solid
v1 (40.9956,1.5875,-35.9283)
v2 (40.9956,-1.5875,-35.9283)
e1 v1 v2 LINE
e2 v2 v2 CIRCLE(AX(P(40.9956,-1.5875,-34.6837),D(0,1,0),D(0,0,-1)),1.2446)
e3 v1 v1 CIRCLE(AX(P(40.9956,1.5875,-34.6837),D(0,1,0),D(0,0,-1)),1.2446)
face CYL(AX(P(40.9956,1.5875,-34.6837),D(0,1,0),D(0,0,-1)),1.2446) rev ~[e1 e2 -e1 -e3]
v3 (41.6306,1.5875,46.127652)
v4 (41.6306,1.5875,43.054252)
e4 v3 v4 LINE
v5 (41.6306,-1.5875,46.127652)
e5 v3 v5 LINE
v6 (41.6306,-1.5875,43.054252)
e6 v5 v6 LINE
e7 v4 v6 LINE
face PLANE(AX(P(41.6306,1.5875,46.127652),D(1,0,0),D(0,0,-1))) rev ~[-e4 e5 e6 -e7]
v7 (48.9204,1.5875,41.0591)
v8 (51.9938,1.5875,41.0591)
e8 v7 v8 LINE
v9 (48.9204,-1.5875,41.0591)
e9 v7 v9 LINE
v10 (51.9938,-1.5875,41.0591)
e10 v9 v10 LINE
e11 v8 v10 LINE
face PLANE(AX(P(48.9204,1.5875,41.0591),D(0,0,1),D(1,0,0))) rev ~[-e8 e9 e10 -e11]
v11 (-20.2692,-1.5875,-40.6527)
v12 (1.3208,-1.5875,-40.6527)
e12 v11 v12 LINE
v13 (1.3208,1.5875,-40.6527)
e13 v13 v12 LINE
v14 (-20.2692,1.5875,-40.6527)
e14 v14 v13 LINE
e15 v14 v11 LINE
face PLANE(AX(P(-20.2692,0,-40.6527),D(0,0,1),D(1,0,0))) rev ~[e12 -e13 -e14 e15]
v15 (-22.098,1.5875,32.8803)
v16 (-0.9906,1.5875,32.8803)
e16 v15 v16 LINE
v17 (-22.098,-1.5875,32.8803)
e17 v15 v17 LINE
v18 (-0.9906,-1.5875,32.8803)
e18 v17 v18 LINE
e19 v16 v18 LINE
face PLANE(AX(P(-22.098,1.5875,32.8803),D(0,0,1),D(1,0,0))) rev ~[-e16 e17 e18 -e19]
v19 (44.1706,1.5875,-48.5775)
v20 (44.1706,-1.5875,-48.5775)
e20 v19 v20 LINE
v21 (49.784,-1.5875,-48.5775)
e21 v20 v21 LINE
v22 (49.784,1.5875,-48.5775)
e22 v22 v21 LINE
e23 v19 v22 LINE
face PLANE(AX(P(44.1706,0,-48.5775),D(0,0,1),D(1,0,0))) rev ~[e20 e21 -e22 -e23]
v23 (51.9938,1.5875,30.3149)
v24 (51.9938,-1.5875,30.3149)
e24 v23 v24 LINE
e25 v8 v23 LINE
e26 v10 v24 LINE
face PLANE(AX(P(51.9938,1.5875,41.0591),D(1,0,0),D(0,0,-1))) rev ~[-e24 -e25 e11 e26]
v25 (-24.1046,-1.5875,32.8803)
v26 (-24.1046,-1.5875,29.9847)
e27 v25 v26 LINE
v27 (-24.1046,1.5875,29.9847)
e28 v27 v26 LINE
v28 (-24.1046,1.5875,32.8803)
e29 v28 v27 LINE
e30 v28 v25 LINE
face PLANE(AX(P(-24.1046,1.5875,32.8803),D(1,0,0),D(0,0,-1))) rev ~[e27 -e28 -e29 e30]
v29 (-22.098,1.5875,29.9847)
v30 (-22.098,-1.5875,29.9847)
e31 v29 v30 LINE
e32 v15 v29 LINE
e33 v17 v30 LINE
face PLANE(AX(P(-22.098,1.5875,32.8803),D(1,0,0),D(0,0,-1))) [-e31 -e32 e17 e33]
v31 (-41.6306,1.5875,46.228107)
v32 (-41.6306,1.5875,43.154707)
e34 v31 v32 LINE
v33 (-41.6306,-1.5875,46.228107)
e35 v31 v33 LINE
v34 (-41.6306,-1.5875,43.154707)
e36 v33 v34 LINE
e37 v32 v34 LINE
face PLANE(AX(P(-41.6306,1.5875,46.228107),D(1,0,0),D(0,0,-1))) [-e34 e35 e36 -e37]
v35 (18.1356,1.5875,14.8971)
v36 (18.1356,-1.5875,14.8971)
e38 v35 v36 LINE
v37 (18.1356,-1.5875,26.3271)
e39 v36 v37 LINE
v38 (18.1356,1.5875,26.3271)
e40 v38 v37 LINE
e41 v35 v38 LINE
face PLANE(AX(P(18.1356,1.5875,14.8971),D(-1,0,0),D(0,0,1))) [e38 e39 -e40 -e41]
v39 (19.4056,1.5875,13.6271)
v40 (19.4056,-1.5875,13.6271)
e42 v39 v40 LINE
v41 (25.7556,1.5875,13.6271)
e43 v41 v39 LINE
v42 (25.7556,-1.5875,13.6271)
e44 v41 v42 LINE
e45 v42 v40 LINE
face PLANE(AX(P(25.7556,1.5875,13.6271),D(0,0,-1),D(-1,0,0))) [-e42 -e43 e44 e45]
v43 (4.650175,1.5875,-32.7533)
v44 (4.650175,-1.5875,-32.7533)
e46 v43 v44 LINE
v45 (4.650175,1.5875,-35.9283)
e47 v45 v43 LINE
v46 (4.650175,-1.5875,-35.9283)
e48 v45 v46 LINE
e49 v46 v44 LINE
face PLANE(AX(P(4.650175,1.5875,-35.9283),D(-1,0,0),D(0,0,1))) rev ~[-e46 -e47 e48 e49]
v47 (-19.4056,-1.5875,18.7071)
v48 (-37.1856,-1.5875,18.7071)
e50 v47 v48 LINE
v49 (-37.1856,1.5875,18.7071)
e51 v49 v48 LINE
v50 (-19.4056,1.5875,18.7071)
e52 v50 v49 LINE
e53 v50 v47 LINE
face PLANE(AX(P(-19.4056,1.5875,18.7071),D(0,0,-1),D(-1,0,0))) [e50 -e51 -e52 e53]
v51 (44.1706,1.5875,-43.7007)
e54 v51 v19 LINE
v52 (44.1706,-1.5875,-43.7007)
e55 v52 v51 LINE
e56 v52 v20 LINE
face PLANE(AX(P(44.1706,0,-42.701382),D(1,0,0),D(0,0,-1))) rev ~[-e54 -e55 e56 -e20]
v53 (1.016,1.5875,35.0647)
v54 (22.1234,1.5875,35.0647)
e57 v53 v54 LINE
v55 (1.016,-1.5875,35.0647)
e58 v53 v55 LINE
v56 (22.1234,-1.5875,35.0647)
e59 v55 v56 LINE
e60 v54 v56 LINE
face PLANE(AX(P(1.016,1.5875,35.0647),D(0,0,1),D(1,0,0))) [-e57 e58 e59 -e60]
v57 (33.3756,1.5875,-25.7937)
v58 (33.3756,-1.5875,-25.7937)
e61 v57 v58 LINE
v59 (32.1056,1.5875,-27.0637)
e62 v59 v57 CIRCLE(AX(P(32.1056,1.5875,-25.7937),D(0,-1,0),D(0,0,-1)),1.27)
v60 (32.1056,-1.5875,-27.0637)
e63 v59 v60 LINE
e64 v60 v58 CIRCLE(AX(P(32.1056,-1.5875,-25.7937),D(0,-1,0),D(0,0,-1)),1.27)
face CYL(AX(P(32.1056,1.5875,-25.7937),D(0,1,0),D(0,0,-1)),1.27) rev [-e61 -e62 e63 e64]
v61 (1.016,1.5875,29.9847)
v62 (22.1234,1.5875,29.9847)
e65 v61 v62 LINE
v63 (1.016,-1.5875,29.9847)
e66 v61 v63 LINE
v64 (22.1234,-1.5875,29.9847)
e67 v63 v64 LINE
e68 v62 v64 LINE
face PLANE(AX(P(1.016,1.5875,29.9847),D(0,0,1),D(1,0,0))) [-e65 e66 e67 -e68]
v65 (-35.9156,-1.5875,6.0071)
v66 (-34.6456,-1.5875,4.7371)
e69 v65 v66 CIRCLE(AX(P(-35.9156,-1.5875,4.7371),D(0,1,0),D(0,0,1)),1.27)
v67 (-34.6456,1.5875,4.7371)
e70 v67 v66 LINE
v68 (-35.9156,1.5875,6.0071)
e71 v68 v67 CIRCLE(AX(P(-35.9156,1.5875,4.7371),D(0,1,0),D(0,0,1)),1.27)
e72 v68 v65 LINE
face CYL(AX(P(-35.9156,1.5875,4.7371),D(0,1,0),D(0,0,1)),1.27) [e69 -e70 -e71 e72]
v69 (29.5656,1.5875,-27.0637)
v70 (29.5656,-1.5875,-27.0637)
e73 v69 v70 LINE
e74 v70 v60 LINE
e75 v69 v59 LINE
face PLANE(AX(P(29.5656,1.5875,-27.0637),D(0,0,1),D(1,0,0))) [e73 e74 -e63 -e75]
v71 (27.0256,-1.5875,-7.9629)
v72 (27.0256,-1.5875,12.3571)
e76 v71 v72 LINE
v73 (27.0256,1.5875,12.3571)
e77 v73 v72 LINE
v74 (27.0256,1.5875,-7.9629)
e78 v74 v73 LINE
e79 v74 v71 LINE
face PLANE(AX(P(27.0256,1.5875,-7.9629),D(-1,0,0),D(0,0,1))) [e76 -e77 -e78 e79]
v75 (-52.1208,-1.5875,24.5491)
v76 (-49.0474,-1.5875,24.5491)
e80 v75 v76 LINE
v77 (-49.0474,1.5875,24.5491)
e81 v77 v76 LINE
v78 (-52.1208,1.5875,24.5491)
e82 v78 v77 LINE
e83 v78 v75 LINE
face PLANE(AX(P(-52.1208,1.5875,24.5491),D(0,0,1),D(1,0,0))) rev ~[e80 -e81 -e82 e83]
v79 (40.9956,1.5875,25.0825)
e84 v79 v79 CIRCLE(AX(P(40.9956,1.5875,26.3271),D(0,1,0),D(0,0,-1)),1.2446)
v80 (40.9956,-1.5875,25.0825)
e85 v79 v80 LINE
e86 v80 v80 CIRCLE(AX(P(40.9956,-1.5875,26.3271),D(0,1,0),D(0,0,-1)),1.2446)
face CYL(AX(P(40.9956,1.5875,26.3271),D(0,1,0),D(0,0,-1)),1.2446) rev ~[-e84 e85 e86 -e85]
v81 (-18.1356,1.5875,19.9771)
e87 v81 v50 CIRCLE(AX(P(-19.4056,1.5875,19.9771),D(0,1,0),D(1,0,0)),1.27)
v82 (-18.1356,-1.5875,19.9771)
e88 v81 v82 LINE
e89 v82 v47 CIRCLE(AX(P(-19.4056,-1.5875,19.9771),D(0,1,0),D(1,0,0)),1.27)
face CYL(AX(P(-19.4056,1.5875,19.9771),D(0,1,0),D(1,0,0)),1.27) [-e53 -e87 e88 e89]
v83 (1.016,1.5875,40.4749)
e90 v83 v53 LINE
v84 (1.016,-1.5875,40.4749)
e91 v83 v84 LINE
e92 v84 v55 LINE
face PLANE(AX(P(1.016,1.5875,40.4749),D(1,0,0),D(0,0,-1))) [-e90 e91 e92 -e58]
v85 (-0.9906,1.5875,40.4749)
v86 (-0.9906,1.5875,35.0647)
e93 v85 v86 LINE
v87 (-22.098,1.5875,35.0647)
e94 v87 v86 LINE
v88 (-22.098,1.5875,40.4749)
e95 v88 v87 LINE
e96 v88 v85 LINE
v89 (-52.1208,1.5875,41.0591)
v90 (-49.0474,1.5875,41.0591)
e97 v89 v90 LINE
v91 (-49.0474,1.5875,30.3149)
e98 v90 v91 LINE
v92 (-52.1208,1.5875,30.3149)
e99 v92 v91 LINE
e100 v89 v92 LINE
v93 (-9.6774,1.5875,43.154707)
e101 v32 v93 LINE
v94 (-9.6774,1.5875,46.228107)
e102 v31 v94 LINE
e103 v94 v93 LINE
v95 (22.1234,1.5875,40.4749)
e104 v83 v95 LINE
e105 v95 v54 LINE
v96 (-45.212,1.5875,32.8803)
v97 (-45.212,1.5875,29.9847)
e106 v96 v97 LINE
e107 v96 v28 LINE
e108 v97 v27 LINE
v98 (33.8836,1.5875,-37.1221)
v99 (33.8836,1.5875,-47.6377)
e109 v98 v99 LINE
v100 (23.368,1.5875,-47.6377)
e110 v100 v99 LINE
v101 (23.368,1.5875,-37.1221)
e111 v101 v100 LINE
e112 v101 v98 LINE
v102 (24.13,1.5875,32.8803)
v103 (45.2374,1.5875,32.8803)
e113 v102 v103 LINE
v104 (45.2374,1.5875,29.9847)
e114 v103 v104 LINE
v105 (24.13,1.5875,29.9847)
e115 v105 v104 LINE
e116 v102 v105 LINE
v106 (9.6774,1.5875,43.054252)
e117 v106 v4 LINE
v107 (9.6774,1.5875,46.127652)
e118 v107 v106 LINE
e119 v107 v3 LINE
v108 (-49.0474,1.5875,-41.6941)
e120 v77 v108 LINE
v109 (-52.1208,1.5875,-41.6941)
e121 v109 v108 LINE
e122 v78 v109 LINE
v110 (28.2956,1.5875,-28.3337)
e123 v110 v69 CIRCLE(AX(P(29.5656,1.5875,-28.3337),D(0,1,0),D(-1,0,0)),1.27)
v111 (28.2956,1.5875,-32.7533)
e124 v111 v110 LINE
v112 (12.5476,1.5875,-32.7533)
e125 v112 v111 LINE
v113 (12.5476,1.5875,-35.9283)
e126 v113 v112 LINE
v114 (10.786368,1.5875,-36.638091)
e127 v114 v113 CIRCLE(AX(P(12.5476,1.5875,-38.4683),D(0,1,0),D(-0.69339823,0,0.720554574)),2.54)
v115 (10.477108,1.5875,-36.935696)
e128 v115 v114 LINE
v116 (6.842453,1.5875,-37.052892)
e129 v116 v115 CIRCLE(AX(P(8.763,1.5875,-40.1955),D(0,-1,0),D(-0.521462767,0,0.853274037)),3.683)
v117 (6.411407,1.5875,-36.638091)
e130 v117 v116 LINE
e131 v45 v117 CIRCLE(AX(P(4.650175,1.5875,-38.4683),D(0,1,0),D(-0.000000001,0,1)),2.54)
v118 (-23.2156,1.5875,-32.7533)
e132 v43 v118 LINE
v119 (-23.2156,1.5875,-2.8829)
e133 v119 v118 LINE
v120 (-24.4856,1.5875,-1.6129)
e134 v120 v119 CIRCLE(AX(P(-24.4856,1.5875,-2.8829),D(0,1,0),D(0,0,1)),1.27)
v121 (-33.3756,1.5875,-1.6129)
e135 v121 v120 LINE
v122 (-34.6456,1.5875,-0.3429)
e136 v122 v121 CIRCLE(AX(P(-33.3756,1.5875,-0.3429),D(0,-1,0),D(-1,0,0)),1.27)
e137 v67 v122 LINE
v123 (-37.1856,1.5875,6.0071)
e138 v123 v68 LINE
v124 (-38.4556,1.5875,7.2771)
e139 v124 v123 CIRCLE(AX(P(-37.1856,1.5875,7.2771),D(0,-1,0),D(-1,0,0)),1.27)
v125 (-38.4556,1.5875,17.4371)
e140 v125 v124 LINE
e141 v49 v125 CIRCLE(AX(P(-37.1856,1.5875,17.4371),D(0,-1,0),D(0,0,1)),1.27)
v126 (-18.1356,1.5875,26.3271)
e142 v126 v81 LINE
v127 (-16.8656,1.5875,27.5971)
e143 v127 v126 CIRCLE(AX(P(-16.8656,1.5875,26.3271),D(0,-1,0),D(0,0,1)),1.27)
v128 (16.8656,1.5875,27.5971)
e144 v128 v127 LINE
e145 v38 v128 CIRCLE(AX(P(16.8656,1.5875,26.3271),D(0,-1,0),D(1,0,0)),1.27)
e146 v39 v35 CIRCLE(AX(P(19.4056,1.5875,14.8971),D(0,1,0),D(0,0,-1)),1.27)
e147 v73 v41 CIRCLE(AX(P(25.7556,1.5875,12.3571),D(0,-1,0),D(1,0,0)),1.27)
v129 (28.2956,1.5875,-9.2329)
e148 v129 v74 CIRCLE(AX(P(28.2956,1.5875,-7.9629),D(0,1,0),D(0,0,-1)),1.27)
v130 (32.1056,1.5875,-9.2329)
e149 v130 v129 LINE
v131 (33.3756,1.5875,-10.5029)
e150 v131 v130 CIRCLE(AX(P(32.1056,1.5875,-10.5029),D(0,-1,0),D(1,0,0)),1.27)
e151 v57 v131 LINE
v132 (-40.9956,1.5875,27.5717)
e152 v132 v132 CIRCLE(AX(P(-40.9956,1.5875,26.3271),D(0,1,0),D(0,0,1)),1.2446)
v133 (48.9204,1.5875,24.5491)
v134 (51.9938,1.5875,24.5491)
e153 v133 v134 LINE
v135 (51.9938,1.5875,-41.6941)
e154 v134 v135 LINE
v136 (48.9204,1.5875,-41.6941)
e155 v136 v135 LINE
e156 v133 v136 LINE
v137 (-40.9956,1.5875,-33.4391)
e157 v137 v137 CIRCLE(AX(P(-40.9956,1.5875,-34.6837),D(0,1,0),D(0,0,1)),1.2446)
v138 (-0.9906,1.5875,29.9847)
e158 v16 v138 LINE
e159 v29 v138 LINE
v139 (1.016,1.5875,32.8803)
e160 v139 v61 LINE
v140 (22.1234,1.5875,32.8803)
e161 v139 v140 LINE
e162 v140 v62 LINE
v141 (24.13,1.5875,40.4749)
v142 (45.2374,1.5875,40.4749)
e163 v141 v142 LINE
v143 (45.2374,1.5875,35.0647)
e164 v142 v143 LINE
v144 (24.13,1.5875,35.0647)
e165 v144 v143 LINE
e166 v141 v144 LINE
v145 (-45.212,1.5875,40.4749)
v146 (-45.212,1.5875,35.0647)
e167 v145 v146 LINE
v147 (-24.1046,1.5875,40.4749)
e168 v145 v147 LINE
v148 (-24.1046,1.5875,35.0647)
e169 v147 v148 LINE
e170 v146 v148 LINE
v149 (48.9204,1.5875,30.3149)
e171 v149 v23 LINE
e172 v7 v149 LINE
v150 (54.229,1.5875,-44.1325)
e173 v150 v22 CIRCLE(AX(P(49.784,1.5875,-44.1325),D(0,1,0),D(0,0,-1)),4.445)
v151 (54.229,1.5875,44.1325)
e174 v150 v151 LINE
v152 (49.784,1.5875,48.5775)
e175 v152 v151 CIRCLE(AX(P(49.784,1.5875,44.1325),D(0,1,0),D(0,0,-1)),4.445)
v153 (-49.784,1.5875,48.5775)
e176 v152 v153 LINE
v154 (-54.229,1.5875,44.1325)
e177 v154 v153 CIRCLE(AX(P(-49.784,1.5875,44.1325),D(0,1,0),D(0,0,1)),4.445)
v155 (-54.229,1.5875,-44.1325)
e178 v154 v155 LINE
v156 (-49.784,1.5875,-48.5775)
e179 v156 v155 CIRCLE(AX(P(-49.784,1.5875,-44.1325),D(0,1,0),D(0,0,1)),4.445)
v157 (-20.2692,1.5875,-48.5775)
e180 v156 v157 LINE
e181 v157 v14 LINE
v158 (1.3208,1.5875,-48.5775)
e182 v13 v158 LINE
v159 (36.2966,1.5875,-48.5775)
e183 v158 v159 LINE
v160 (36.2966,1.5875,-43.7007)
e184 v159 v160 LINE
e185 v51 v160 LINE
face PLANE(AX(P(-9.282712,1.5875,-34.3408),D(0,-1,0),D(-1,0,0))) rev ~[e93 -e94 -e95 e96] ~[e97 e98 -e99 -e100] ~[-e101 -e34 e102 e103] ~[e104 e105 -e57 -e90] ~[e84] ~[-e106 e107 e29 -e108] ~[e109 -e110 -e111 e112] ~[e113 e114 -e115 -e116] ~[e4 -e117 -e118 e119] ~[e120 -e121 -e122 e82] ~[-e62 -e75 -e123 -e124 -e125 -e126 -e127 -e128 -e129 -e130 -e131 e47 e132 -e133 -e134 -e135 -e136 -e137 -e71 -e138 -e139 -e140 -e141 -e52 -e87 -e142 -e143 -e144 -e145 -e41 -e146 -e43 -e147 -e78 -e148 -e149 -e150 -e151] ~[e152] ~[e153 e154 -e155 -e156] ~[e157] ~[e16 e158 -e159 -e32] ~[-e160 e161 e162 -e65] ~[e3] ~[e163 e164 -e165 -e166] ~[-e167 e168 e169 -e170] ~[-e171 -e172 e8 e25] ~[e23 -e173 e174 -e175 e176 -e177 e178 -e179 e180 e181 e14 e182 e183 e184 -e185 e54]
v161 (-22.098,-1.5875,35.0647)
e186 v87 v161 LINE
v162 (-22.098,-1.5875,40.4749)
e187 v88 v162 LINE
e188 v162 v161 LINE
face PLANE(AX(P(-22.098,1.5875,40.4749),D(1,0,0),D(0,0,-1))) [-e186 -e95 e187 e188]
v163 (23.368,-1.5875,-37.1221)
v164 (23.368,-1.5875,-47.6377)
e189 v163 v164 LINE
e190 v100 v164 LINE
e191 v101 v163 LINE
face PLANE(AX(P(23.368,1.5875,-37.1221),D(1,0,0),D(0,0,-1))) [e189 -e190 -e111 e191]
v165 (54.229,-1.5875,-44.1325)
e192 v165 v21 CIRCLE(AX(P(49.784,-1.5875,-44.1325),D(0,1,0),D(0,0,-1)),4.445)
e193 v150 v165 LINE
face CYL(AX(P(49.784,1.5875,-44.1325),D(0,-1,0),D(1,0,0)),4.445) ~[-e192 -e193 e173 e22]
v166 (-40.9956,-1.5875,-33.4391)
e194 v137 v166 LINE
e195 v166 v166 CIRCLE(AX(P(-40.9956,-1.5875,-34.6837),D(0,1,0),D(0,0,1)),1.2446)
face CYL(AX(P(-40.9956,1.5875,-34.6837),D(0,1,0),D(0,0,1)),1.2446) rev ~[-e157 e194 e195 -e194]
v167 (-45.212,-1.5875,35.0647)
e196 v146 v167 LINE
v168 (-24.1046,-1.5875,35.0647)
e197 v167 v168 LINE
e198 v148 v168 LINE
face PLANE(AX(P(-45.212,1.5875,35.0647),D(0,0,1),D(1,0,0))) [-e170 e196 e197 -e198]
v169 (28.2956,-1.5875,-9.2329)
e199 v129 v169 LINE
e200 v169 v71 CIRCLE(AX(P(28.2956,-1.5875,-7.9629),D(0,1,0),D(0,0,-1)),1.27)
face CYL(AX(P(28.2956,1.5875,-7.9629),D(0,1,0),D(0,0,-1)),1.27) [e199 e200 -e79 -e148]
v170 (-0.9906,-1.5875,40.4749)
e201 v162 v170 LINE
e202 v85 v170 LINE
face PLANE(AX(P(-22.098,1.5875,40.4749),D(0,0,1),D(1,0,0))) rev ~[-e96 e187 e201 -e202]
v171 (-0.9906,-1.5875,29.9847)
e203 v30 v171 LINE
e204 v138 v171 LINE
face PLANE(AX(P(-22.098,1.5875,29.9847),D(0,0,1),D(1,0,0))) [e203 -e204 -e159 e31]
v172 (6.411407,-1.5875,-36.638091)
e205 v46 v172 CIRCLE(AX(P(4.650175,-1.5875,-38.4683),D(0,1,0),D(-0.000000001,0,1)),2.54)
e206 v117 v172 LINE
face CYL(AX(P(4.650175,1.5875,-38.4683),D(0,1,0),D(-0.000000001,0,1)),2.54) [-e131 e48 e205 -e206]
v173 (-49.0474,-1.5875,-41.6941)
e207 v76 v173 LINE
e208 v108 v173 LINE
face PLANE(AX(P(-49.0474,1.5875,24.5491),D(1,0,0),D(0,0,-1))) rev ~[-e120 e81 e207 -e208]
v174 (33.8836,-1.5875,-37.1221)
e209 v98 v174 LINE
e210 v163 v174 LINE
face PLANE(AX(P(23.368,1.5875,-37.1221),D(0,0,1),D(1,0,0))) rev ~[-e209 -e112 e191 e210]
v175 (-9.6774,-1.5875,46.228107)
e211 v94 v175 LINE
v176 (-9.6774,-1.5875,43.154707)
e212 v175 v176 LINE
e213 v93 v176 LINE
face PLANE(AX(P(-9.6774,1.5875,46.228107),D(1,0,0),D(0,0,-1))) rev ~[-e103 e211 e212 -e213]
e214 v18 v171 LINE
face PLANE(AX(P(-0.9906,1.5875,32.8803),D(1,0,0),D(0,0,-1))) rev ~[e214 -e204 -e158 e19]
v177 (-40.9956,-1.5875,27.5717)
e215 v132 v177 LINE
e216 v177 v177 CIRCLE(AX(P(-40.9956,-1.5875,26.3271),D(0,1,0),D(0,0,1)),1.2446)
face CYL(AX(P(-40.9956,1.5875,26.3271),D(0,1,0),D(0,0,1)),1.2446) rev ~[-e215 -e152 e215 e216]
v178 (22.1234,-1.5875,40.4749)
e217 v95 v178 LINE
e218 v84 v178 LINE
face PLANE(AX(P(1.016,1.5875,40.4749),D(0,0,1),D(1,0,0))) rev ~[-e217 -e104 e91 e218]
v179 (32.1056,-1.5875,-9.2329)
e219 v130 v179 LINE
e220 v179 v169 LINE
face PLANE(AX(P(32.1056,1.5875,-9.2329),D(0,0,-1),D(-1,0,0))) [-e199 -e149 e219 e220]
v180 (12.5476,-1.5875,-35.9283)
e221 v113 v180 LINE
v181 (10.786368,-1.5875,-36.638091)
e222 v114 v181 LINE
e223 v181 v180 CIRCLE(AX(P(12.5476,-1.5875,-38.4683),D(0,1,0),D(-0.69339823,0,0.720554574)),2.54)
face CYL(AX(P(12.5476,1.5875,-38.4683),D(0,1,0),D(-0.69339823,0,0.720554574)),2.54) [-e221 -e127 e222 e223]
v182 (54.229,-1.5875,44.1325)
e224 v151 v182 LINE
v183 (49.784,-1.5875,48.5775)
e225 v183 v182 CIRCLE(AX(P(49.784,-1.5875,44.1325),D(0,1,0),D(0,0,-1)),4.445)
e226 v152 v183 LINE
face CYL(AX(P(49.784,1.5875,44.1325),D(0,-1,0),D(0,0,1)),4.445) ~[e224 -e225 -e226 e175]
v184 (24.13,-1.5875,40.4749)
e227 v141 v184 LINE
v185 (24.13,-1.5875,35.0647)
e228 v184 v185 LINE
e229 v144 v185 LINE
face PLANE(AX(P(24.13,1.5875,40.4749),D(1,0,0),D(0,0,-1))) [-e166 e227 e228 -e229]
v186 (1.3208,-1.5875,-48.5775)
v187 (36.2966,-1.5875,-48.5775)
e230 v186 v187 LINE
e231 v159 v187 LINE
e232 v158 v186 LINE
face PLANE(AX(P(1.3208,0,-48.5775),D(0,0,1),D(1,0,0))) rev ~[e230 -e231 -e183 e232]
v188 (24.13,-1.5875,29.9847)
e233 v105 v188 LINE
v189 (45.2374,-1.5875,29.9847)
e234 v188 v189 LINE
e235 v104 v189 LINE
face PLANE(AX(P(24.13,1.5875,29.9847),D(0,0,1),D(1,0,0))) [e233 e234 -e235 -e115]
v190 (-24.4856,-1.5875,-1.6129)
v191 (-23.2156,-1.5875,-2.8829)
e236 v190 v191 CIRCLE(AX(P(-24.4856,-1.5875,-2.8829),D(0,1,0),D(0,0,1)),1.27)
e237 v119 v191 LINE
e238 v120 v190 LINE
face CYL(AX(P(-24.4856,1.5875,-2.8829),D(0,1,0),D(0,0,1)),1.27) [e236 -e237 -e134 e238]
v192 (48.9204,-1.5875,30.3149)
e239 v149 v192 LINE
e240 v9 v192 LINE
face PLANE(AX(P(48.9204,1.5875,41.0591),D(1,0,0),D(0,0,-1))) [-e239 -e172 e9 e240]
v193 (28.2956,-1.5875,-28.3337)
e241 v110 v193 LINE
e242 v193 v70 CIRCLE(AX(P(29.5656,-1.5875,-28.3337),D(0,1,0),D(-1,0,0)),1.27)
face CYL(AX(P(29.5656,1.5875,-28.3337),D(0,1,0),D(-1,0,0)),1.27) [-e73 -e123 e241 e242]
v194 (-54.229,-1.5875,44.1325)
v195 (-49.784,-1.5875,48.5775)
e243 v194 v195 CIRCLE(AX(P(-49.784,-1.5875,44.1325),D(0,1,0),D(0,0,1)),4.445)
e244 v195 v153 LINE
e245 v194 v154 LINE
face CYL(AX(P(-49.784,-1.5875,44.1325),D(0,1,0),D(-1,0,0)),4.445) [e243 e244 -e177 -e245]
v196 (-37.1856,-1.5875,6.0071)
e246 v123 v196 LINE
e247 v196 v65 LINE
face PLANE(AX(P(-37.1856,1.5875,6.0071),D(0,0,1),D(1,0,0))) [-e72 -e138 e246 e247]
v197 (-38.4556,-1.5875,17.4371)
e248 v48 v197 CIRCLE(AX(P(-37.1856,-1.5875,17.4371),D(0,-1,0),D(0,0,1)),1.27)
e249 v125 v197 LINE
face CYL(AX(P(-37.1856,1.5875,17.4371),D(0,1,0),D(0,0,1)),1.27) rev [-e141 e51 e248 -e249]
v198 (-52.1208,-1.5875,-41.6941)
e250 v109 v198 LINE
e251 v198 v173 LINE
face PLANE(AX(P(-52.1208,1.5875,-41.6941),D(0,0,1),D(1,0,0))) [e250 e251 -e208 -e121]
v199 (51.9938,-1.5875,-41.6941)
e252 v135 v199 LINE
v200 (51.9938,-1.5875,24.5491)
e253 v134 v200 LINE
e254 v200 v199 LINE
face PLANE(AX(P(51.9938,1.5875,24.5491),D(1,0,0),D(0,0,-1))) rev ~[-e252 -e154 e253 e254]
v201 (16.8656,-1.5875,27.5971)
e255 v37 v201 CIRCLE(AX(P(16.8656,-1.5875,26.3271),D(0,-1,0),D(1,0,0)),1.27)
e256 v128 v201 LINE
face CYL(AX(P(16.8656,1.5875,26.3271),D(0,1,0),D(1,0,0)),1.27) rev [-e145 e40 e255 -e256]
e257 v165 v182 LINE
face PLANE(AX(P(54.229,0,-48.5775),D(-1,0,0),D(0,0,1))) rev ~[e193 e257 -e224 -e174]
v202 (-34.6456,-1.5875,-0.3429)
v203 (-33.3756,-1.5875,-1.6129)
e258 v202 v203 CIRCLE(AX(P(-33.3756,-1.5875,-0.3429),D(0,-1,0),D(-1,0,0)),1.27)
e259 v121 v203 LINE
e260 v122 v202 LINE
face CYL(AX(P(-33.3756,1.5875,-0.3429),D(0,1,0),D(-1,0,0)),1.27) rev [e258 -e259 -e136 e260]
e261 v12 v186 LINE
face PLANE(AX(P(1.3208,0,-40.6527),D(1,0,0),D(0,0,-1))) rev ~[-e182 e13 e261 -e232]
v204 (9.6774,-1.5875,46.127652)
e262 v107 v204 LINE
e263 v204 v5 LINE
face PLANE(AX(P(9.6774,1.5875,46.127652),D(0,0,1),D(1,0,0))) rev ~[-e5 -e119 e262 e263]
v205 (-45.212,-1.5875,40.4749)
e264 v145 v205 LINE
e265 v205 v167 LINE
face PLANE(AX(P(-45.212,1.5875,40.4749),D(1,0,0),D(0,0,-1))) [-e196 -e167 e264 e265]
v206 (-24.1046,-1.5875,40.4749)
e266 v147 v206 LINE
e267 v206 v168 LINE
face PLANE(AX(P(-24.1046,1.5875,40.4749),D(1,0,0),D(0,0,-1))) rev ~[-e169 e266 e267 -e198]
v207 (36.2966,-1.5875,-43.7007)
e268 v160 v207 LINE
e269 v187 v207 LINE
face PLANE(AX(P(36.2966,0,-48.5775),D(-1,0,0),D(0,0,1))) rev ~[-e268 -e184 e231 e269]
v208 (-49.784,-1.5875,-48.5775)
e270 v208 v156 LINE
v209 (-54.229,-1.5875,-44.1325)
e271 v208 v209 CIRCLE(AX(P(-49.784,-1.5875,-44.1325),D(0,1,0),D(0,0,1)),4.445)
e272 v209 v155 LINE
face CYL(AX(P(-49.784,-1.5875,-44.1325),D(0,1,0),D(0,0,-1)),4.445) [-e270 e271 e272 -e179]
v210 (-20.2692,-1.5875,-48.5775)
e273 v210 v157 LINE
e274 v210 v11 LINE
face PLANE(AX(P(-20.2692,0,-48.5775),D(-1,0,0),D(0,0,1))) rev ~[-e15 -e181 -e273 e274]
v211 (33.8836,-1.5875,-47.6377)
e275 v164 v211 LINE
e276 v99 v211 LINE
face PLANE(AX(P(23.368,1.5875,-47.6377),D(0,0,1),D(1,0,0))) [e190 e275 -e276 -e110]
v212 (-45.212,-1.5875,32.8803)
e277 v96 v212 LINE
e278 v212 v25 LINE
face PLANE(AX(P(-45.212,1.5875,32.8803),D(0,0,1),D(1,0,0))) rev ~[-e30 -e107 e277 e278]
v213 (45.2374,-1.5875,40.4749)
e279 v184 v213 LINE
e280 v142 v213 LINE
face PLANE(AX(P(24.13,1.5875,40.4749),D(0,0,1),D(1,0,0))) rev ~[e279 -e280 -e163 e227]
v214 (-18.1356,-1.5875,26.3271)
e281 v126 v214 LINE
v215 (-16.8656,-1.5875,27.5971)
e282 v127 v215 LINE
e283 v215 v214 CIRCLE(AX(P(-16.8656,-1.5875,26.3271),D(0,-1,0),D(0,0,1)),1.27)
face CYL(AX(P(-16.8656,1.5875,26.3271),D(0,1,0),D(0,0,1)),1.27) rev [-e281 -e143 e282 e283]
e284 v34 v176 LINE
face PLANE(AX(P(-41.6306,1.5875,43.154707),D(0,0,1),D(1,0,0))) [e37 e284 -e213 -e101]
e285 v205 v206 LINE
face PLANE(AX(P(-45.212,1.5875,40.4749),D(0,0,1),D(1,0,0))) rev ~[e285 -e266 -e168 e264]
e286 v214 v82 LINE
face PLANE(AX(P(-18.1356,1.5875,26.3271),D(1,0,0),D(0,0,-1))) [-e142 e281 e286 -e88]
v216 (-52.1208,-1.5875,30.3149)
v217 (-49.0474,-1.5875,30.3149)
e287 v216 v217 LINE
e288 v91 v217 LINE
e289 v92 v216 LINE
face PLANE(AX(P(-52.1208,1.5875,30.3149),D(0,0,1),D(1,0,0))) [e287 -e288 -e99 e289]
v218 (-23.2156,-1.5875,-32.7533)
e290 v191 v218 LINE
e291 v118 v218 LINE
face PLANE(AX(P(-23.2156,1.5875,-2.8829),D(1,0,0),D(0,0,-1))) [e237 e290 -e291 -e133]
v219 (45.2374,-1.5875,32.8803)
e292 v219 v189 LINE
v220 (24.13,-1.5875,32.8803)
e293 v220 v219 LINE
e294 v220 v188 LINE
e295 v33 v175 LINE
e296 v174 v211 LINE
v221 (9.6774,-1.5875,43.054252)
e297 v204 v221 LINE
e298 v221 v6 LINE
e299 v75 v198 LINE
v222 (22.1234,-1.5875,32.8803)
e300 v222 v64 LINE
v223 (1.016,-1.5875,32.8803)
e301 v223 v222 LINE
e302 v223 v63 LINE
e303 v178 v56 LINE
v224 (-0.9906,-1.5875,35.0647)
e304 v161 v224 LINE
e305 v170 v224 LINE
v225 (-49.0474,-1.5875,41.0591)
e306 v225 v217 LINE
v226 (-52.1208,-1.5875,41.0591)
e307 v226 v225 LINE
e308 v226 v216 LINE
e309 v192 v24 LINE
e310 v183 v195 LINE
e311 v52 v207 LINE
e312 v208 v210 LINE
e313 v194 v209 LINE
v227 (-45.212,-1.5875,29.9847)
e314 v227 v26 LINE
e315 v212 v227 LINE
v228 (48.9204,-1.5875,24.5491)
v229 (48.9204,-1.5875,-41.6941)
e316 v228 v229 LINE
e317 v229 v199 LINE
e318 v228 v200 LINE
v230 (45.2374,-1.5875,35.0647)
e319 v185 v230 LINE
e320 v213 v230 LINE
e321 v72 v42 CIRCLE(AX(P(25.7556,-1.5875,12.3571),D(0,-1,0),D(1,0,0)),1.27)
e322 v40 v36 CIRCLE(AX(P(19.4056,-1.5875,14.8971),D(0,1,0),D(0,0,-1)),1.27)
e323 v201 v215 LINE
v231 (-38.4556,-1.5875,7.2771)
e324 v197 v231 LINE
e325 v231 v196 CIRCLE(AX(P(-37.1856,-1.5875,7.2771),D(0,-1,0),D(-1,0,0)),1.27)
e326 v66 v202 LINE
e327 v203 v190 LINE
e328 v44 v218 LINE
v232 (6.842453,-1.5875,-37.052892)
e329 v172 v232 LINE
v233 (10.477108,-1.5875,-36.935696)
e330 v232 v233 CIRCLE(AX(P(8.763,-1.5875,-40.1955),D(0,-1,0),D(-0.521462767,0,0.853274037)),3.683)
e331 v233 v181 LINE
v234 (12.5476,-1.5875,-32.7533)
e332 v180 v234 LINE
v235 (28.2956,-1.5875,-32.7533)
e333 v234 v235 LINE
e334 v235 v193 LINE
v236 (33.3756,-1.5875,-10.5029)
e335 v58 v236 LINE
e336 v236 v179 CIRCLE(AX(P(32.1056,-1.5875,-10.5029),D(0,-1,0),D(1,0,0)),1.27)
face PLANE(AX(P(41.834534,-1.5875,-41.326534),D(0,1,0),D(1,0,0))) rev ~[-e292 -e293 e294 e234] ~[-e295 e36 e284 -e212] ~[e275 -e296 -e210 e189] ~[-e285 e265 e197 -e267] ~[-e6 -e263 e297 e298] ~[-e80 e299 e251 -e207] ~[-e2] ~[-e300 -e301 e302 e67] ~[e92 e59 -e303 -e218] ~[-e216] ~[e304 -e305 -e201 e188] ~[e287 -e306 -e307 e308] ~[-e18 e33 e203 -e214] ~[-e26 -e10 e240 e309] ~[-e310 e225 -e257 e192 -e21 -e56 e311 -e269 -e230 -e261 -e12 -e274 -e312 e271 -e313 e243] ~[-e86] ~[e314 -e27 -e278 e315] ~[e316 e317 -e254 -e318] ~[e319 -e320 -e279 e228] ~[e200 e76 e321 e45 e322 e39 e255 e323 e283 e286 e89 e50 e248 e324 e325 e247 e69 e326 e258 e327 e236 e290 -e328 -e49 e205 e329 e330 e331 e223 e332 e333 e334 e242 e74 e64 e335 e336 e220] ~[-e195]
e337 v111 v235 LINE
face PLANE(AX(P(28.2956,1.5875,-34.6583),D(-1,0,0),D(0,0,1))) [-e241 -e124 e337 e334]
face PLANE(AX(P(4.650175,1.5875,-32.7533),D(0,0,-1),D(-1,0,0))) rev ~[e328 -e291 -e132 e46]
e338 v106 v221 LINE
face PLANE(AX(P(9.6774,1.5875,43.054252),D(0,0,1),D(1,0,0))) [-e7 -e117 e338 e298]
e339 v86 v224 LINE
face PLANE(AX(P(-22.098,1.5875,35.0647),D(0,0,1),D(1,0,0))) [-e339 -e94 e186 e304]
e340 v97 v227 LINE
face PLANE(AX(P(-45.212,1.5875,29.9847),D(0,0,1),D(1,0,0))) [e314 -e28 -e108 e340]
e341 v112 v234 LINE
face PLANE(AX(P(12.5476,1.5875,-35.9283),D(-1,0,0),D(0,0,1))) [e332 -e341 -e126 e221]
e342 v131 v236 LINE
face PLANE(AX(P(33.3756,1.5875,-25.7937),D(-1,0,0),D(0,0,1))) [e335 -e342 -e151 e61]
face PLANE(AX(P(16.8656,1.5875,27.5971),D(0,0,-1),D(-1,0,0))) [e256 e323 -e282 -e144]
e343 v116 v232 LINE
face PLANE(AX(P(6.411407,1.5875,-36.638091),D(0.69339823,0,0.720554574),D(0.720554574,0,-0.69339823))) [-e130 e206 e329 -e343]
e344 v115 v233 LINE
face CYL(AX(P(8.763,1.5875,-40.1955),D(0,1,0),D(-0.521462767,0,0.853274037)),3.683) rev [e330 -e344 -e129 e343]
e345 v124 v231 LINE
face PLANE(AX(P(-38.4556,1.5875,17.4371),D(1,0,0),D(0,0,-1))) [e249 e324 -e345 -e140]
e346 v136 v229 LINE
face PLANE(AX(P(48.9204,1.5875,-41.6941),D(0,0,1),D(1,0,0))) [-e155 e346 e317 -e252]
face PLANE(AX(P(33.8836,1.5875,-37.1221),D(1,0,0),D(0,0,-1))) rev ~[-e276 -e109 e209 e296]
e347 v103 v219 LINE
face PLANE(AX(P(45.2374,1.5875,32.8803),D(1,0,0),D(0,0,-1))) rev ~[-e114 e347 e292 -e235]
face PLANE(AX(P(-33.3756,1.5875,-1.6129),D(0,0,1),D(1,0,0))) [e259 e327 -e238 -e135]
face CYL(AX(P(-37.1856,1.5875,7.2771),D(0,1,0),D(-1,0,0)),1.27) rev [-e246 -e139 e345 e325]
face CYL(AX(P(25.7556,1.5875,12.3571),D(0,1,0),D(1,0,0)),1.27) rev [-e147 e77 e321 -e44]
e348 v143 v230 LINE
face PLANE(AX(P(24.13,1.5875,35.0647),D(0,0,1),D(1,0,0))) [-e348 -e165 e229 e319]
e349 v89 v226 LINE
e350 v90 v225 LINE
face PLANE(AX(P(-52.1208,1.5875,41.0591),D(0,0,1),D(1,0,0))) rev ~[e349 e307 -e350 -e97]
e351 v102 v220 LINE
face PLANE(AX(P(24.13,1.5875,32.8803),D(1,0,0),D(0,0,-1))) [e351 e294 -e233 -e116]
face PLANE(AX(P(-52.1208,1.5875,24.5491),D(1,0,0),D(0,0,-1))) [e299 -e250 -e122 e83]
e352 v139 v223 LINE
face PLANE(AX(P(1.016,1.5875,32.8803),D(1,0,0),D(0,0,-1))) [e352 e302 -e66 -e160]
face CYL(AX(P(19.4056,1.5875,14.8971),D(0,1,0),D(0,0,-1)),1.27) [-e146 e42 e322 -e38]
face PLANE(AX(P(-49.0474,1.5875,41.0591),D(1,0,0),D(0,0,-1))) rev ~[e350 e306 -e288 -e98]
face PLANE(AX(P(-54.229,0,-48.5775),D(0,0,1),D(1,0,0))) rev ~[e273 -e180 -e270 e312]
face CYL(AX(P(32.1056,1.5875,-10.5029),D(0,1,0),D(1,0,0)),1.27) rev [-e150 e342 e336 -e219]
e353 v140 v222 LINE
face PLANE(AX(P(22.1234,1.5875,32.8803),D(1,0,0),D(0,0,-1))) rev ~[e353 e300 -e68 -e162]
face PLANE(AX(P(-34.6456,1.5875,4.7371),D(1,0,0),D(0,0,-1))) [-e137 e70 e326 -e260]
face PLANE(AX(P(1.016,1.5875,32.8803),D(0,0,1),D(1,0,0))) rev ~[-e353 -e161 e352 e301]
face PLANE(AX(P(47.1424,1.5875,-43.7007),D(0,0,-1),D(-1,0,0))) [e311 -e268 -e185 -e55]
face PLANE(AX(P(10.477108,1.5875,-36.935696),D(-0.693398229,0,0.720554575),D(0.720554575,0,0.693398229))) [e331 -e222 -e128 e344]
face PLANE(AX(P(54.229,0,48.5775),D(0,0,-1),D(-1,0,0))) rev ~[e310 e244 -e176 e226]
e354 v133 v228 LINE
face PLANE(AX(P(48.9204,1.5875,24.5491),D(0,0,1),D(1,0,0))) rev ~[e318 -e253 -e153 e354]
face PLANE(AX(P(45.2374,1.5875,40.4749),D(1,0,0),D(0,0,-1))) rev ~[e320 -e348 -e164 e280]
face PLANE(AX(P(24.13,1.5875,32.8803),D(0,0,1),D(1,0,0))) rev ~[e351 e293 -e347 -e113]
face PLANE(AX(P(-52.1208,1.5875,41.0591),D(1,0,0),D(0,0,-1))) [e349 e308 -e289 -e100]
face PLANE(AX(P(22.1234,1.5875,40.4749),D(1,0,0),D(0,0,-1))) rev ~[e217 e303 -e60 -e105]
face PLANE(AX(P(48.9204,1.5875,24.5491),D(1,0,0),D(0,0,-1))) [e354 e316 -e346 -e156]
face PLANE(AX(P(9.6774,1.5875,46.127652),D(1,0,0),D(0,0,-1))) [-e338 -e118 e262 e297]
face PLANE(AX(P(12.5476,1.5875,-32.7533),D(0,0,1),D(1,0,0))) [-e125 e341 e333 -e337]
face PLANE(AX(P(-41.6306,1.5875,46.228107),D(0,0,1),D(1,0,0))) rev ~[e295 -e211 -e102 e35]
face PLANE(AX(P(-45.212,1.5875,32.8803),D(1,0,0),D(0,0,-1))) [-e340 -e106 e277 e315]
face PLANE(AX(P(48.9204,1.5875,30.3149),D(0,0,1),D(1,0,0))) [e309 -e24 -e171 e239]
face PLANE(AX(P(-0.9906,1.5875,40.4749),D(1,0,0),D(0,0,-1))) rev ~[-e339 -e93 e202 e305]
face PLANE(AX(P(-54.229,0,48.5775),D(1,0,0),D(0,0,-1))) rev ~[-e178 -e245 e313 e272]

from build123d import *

# Parameters (mm, degrees)
BOSS_EXTRUDE1_DEPTH = 1.5875
SKETCH2_R           = 1.2446
CUT_EXTRUDE1_DEPTH  = 73.874128278
CUT_EXTRUDE2_DEPTH  = 3.175
SKETCH4_W           = 10.5156
SKETCH4_H           = 10.5156
SKETCH4_W_2         = 3.0734
SKETCH4_H_2         = 66.2432
SKETCH4_H_3         = 10.7442
CUT_EXTRUDE3_DEPTH  = 3.175
SKETCH5_W           = 21.1074
SKETCH5_H           = 2.8956
SKETCH5_H_2         = 5.4102
CUT_EXTRUDE4_DEPTH  = 3.175
SKETCH7_W           = 31.9532
SKETCH7_H           = 3.0734
CUT_EXTRUDE5_DEPTH  = 3.175
FILLET1_R           = 4.445
BOSS_EXTRUDE2_DEPTH = 3.175
BOSS_EXTRUDE3_DEPTH = 3.175


with BuildPart() as part:
    # Sketch1 → Boss-Extrude1 (new, symmetric)
    with BuildSketch(Plane(origin=(0, 0, 0), x_dir=(1, 0, 0), z_dir=(0, 1, 0))):
        Polygon((-20.2692, 48.5775), (-20.2692, 40.6527), (1.3208, 40.6527), (1.3208, 48.5775), (36.2966, 48.5775), (36.2966, 43.0657), (37.1348, 43.0657), (37.1348, 38.7223), (47.1424, 38.7223), (47.1424, 42.701382431), (44.1706, 42.701382431), (44.1706, 48.5775), (54.229, 48.5775), (54.229, -48.5775), (-54.229, -48.5775), (-54.229, 48.5775), align=None)
    extrude(amount=BOSS_EXTRUDE1_DEPTH, both=True)

    # Sketch2 → Cut-Extrude1 (cut, through all)
    with BuildSketch(Plane(origin=(0, 1.5875, 0), x_dir=(1, 0, 0), z_dir=(0, 1, 0))):
        with Locations(Location((-40.9956, 34.6837, 0), (0, 0, 270))):
            Circle(SKETCH2_R)
        with Locations(Location((-40.9956, -26.3271, 0), (0, 0, 270))):
            Circle(SKETCH2_R)
        with Locations(Location((40.9956, -26.3271, 0), (0, 0, 90))):
            Circle(SKETCH2_R)
        with Locations(Location((40.9956, 34.6837, 0), (0, 0, 90))):
            Circle(SKETCH2_R)
    extrude(amount=-CUT_EXTRUDE1_DEPTH, mode=Mode.SUBTRACT)

    # Sketch3 → Cut-Extrude2 (cut)
    with BuildSketch(Plane(origin=(0, 1.5875, 0), x_dir=(1, 0, 0), z_dir=(0, 1, 0))):
        with BuildLine():
            Line((-21.9456, 35.9283), (4.650175487, 35.9283))
            ThreePointArc((4.650175487, 35.9283), (5.599614823, 36.112421194), (6.41140699, 36.63809138))
            Line((6.41140699, 36.63809138), (6.842452629, 37.052891721))
            ThreePointArc((6.842452629, 37.052891721), (8.881692758, 43.876586936), (10.477108356, 36.935696088))
            Line((10.477108356, 36.935696088), (10.786368497, 36.63809138))
            ThreePointArc((10.786368497, 36.63809138), (11.598160664, 36.112421194), (12.5476, 35.9283))
            Line((12.5476, 35.9283), (27.0256, 35.9283))
            ThreePointArc((27.0256, 35.9283), (27.923625612, 35.556325612), (28.2956, 34.6583))
            Line((28.2956, 34.6583), (28.2956, 28.3337))
            ThreePointArc((28.2956, 28.3337), (28.667574388, 27.435674388), (29.5656, 27.0637))
            Line((29.5656, 27.0637), (32.1056, 27.0637))
            ThreePointArc((32.1056, 27.0637), (33.003625612, 26.691725612), (33.3756, 25.7937))
            Line((33.3756, 25.7937), (33.3756, 10.5029))
            ThreePointArc((33.3756, 10.5029), (33.003625612, 9.604874388), (32.1056, 9.2329))
            Line((32.1056, 9.2329), (28.2956, 9.2329))
            ThreePointArc((28.2956, 9.2329), (27.397574388, 8.860925612), (27.0256, 7.9629))
            Line((27.0256, 7.9629), (27.0256, -12.3571))
            ThreePointArc((27.0256, -12.3571), (26.653625612, -13.255125612), (25.7556, -13.6271))
            Line((25.7556, -13.6271), (19.4056, -13.6271))
            ThreePointArc((19.4056, -13.6271), (18.507574388, -13.999074388), (18.1356, -14.8971))
            Line((18.1356, -14.8971), (18.1356, -26.3271))
            ThreePointArc((18.1356, -26.3271), (17.763625612, -27.225125612), (16.8656, -27.5971))
            Line((16.8656, -27.5971), (-16.8656, -27.5971))
            ThreePointArc((-16.8656, -27.5971), (-17.763625612, -27.225125612), (-18.1356, -26.3271))
            Line((-18.1356, -26.3271), (-18.1356, -19.9771))
            ThreePointArc((-18.1356, -19.9771), (-18.507574388, -19.079074388), (-19.4056, -18.7071))
            Line((-19.4056, -18.7071), (-37.1856, -18.7071))
            ThreePointArc((-37.1856, -18.7071), (-38.083625612, -18.335125612), (-38.4556, -17.4371))
            Line((-38.4556, -17.4371), (-38.4556, -7.2771))
            ThreePointArc((-38.4556, -7.2771), (-38.083625612, -6.379074388), (-37.1856, -6.0071))
            Line((-37.1856, -6.0071), (-35.9156, -6.0071))
            ThreePointArc((-35.9156, -6.0071), (-35.017574388, -5.635125612), (-34.6456, -4.7371))
            Line((-34.6456, -4.7371), (-34.6456, 0.3429))
            ThreePointArc((-34.6456, 0.3429), (-34.273625612, 1.240925612), (-33.3756, 1.6129))
            Line((-33.3756, 1.6129), (-24.4856, 1.6129))
            ThreePointArc((-24.4856, 1.6129), (-23.587574388, 1.984874388), (-23.2156, 2.8829))
            Line((-23.2156, 2.8829), (-23.2156, 34.6583))
            ThreePointArc((-23.2156, 34.6583), (-22.843625612, 35.556325612), (-21.9456, 35.9283))
        make_face()
    extrude(amount=-CUT_EXTRUDE2_DEPTH, mode=Mode.SUBTRACT)

    # Sketch4 → Cut-Extrude3 (cut)
    with BuildSketch(Plane(origin=(0, 1.5875, 0), x_dir=(1, 0, 0), z_dir=(0, 1, 0))):
        with Locations((28.6258, 42.3799)):
            Rectangle(SKETCH4_W, SKETCH4_H)
        with Locations((-50.5841, 8.5725)):
            Rectangle(SKETCH4_W_2, SKETCH4_H_2)
        with Locations((-50.5841, -35.687)):
            Rectangle(SKETCH4_W_2, SKETCH4_H_3)
        with Locations((50.4571, 8.5725)):
            Rectangle(SKETCH4_W_2, SKETCH4_H_2)
        with Locations((50.4571, -35.687)):
            Rectangle(SKETCH4_W_2, SKETCH4_H_3)
    extrude(amount=-CUT_EXTRUDE3_DEPTH, mode=Mode.SUBTRACT)

    # Sketch5 → Cut-Extrude4 (cut)
    with BuildSketch(Plane(origin=(0, 1.5875, 0), x_dir=(1, 0, 0), z_dir=(0, 1, 0))):
        with Locations((-34.6583, -31.4325)):
            Rectangle(SKETCH5_W, SKETCH5_H)
        with Locations((-34.6583, -37.7698)):
            Rectangle(SKETCH5_W, SKETCH5_H_2)
        with Locations((-11.5443, -37.7698)):
            Rectangle(SKETCH5_W, SKETCH5_H_2)
        with Locations((-11.5443, -31.4325)):
            Rectangle(SKETCH5_W, SKETCH5_H)
        with Locations((11.5697, -31.4325)):
            Rectangle(SKETCH5_W, SKETCH5_H)
        with Locations((11.5697, -37.7698)):
            Rectangle(SKETCH5_W, SKETCH5_H_2)
        with Locations((34.6837, -37.7698)):
            Rectangle(SKETCH5_W, SKETCH5_H_2)
        with Locations((34.6837, -31.4325)):
            Rectangle(SKETCH5_W, SKETCH5_H)
    extrude(amount=-CUT_EXTRUDE4_DEPTH, mode=Mode.SUBTRACT)

    # Sketch7 → Cut-Extrude5 (cut)
    with BuildSketch(Plane(origin=(0, 1.5875, 0), x_dir=(1, 0, 0), z_dir=(0, 1, 0))):
        with Locations((-25.654, -44.691406541)):
            Rectangle(SKETCH7_W, SKETCH7_H)
        with Locations((25.654, -44.590951919)):
            Rectangle(SKETCH7_W, SKETCH7_H)
    extrude(amount=-CUT_EXTRUDE5_DEPTH, mode=Mode.SUBTRACT)

    # Fillet1
    fillet1_edges = [part.edges().sort_by_distance(p)[0] for p in [
        (-54.229, 0, -48.5775),
        (54.229, 0, -48.5775),
        (54.229, 0, 48.5775),
        (-54.229, 0, 48.5775),
    ]]
    fillet(fillet1_edges, radius=FILLET1_R)

    # Sketch8 → Boss-Extrude2 (add)
    with BuildSketch(Plane(origin=(0, 1.5875, 0), x_dir=(1, 0, 0), z_dir=(0, 1, 0))):
        Polygon((37.1348, 43.0657), (37.1348, 38.7223), (47.1424, 38.7223), (47.1424, 43.0657), (47.1424, 43.7007), (36.2966, 43.7007), (36.2966, 43.0657), align=None)
    extrude(amount=-BOSS_EXTRUDE2_DEPTH)

    # Sketch9 → Boss-Extrude3 (add)
    with BuildSketch(Plane(origin=(0, 1.5875, 0), x_dir=(1, 0, 0), z_dir=(0, 1, 0))):
        Polygon((-23.2156, 34.6583), (-23.2156, 35.9283), (4.650175487, 35.9283), (4.650175487, 32.7533), (-23.2156, 32.7533), align=None)
        Polygon((28.2956, 34.6583), (28.2956, 35.9283), (12.5476, 35.9283), (12.5476, 32.7533), (28.2956, 32.7533), align=None)
    extrude(amount=-BOSS_EXTRUDE3_DEPTH)


solid = part.part
